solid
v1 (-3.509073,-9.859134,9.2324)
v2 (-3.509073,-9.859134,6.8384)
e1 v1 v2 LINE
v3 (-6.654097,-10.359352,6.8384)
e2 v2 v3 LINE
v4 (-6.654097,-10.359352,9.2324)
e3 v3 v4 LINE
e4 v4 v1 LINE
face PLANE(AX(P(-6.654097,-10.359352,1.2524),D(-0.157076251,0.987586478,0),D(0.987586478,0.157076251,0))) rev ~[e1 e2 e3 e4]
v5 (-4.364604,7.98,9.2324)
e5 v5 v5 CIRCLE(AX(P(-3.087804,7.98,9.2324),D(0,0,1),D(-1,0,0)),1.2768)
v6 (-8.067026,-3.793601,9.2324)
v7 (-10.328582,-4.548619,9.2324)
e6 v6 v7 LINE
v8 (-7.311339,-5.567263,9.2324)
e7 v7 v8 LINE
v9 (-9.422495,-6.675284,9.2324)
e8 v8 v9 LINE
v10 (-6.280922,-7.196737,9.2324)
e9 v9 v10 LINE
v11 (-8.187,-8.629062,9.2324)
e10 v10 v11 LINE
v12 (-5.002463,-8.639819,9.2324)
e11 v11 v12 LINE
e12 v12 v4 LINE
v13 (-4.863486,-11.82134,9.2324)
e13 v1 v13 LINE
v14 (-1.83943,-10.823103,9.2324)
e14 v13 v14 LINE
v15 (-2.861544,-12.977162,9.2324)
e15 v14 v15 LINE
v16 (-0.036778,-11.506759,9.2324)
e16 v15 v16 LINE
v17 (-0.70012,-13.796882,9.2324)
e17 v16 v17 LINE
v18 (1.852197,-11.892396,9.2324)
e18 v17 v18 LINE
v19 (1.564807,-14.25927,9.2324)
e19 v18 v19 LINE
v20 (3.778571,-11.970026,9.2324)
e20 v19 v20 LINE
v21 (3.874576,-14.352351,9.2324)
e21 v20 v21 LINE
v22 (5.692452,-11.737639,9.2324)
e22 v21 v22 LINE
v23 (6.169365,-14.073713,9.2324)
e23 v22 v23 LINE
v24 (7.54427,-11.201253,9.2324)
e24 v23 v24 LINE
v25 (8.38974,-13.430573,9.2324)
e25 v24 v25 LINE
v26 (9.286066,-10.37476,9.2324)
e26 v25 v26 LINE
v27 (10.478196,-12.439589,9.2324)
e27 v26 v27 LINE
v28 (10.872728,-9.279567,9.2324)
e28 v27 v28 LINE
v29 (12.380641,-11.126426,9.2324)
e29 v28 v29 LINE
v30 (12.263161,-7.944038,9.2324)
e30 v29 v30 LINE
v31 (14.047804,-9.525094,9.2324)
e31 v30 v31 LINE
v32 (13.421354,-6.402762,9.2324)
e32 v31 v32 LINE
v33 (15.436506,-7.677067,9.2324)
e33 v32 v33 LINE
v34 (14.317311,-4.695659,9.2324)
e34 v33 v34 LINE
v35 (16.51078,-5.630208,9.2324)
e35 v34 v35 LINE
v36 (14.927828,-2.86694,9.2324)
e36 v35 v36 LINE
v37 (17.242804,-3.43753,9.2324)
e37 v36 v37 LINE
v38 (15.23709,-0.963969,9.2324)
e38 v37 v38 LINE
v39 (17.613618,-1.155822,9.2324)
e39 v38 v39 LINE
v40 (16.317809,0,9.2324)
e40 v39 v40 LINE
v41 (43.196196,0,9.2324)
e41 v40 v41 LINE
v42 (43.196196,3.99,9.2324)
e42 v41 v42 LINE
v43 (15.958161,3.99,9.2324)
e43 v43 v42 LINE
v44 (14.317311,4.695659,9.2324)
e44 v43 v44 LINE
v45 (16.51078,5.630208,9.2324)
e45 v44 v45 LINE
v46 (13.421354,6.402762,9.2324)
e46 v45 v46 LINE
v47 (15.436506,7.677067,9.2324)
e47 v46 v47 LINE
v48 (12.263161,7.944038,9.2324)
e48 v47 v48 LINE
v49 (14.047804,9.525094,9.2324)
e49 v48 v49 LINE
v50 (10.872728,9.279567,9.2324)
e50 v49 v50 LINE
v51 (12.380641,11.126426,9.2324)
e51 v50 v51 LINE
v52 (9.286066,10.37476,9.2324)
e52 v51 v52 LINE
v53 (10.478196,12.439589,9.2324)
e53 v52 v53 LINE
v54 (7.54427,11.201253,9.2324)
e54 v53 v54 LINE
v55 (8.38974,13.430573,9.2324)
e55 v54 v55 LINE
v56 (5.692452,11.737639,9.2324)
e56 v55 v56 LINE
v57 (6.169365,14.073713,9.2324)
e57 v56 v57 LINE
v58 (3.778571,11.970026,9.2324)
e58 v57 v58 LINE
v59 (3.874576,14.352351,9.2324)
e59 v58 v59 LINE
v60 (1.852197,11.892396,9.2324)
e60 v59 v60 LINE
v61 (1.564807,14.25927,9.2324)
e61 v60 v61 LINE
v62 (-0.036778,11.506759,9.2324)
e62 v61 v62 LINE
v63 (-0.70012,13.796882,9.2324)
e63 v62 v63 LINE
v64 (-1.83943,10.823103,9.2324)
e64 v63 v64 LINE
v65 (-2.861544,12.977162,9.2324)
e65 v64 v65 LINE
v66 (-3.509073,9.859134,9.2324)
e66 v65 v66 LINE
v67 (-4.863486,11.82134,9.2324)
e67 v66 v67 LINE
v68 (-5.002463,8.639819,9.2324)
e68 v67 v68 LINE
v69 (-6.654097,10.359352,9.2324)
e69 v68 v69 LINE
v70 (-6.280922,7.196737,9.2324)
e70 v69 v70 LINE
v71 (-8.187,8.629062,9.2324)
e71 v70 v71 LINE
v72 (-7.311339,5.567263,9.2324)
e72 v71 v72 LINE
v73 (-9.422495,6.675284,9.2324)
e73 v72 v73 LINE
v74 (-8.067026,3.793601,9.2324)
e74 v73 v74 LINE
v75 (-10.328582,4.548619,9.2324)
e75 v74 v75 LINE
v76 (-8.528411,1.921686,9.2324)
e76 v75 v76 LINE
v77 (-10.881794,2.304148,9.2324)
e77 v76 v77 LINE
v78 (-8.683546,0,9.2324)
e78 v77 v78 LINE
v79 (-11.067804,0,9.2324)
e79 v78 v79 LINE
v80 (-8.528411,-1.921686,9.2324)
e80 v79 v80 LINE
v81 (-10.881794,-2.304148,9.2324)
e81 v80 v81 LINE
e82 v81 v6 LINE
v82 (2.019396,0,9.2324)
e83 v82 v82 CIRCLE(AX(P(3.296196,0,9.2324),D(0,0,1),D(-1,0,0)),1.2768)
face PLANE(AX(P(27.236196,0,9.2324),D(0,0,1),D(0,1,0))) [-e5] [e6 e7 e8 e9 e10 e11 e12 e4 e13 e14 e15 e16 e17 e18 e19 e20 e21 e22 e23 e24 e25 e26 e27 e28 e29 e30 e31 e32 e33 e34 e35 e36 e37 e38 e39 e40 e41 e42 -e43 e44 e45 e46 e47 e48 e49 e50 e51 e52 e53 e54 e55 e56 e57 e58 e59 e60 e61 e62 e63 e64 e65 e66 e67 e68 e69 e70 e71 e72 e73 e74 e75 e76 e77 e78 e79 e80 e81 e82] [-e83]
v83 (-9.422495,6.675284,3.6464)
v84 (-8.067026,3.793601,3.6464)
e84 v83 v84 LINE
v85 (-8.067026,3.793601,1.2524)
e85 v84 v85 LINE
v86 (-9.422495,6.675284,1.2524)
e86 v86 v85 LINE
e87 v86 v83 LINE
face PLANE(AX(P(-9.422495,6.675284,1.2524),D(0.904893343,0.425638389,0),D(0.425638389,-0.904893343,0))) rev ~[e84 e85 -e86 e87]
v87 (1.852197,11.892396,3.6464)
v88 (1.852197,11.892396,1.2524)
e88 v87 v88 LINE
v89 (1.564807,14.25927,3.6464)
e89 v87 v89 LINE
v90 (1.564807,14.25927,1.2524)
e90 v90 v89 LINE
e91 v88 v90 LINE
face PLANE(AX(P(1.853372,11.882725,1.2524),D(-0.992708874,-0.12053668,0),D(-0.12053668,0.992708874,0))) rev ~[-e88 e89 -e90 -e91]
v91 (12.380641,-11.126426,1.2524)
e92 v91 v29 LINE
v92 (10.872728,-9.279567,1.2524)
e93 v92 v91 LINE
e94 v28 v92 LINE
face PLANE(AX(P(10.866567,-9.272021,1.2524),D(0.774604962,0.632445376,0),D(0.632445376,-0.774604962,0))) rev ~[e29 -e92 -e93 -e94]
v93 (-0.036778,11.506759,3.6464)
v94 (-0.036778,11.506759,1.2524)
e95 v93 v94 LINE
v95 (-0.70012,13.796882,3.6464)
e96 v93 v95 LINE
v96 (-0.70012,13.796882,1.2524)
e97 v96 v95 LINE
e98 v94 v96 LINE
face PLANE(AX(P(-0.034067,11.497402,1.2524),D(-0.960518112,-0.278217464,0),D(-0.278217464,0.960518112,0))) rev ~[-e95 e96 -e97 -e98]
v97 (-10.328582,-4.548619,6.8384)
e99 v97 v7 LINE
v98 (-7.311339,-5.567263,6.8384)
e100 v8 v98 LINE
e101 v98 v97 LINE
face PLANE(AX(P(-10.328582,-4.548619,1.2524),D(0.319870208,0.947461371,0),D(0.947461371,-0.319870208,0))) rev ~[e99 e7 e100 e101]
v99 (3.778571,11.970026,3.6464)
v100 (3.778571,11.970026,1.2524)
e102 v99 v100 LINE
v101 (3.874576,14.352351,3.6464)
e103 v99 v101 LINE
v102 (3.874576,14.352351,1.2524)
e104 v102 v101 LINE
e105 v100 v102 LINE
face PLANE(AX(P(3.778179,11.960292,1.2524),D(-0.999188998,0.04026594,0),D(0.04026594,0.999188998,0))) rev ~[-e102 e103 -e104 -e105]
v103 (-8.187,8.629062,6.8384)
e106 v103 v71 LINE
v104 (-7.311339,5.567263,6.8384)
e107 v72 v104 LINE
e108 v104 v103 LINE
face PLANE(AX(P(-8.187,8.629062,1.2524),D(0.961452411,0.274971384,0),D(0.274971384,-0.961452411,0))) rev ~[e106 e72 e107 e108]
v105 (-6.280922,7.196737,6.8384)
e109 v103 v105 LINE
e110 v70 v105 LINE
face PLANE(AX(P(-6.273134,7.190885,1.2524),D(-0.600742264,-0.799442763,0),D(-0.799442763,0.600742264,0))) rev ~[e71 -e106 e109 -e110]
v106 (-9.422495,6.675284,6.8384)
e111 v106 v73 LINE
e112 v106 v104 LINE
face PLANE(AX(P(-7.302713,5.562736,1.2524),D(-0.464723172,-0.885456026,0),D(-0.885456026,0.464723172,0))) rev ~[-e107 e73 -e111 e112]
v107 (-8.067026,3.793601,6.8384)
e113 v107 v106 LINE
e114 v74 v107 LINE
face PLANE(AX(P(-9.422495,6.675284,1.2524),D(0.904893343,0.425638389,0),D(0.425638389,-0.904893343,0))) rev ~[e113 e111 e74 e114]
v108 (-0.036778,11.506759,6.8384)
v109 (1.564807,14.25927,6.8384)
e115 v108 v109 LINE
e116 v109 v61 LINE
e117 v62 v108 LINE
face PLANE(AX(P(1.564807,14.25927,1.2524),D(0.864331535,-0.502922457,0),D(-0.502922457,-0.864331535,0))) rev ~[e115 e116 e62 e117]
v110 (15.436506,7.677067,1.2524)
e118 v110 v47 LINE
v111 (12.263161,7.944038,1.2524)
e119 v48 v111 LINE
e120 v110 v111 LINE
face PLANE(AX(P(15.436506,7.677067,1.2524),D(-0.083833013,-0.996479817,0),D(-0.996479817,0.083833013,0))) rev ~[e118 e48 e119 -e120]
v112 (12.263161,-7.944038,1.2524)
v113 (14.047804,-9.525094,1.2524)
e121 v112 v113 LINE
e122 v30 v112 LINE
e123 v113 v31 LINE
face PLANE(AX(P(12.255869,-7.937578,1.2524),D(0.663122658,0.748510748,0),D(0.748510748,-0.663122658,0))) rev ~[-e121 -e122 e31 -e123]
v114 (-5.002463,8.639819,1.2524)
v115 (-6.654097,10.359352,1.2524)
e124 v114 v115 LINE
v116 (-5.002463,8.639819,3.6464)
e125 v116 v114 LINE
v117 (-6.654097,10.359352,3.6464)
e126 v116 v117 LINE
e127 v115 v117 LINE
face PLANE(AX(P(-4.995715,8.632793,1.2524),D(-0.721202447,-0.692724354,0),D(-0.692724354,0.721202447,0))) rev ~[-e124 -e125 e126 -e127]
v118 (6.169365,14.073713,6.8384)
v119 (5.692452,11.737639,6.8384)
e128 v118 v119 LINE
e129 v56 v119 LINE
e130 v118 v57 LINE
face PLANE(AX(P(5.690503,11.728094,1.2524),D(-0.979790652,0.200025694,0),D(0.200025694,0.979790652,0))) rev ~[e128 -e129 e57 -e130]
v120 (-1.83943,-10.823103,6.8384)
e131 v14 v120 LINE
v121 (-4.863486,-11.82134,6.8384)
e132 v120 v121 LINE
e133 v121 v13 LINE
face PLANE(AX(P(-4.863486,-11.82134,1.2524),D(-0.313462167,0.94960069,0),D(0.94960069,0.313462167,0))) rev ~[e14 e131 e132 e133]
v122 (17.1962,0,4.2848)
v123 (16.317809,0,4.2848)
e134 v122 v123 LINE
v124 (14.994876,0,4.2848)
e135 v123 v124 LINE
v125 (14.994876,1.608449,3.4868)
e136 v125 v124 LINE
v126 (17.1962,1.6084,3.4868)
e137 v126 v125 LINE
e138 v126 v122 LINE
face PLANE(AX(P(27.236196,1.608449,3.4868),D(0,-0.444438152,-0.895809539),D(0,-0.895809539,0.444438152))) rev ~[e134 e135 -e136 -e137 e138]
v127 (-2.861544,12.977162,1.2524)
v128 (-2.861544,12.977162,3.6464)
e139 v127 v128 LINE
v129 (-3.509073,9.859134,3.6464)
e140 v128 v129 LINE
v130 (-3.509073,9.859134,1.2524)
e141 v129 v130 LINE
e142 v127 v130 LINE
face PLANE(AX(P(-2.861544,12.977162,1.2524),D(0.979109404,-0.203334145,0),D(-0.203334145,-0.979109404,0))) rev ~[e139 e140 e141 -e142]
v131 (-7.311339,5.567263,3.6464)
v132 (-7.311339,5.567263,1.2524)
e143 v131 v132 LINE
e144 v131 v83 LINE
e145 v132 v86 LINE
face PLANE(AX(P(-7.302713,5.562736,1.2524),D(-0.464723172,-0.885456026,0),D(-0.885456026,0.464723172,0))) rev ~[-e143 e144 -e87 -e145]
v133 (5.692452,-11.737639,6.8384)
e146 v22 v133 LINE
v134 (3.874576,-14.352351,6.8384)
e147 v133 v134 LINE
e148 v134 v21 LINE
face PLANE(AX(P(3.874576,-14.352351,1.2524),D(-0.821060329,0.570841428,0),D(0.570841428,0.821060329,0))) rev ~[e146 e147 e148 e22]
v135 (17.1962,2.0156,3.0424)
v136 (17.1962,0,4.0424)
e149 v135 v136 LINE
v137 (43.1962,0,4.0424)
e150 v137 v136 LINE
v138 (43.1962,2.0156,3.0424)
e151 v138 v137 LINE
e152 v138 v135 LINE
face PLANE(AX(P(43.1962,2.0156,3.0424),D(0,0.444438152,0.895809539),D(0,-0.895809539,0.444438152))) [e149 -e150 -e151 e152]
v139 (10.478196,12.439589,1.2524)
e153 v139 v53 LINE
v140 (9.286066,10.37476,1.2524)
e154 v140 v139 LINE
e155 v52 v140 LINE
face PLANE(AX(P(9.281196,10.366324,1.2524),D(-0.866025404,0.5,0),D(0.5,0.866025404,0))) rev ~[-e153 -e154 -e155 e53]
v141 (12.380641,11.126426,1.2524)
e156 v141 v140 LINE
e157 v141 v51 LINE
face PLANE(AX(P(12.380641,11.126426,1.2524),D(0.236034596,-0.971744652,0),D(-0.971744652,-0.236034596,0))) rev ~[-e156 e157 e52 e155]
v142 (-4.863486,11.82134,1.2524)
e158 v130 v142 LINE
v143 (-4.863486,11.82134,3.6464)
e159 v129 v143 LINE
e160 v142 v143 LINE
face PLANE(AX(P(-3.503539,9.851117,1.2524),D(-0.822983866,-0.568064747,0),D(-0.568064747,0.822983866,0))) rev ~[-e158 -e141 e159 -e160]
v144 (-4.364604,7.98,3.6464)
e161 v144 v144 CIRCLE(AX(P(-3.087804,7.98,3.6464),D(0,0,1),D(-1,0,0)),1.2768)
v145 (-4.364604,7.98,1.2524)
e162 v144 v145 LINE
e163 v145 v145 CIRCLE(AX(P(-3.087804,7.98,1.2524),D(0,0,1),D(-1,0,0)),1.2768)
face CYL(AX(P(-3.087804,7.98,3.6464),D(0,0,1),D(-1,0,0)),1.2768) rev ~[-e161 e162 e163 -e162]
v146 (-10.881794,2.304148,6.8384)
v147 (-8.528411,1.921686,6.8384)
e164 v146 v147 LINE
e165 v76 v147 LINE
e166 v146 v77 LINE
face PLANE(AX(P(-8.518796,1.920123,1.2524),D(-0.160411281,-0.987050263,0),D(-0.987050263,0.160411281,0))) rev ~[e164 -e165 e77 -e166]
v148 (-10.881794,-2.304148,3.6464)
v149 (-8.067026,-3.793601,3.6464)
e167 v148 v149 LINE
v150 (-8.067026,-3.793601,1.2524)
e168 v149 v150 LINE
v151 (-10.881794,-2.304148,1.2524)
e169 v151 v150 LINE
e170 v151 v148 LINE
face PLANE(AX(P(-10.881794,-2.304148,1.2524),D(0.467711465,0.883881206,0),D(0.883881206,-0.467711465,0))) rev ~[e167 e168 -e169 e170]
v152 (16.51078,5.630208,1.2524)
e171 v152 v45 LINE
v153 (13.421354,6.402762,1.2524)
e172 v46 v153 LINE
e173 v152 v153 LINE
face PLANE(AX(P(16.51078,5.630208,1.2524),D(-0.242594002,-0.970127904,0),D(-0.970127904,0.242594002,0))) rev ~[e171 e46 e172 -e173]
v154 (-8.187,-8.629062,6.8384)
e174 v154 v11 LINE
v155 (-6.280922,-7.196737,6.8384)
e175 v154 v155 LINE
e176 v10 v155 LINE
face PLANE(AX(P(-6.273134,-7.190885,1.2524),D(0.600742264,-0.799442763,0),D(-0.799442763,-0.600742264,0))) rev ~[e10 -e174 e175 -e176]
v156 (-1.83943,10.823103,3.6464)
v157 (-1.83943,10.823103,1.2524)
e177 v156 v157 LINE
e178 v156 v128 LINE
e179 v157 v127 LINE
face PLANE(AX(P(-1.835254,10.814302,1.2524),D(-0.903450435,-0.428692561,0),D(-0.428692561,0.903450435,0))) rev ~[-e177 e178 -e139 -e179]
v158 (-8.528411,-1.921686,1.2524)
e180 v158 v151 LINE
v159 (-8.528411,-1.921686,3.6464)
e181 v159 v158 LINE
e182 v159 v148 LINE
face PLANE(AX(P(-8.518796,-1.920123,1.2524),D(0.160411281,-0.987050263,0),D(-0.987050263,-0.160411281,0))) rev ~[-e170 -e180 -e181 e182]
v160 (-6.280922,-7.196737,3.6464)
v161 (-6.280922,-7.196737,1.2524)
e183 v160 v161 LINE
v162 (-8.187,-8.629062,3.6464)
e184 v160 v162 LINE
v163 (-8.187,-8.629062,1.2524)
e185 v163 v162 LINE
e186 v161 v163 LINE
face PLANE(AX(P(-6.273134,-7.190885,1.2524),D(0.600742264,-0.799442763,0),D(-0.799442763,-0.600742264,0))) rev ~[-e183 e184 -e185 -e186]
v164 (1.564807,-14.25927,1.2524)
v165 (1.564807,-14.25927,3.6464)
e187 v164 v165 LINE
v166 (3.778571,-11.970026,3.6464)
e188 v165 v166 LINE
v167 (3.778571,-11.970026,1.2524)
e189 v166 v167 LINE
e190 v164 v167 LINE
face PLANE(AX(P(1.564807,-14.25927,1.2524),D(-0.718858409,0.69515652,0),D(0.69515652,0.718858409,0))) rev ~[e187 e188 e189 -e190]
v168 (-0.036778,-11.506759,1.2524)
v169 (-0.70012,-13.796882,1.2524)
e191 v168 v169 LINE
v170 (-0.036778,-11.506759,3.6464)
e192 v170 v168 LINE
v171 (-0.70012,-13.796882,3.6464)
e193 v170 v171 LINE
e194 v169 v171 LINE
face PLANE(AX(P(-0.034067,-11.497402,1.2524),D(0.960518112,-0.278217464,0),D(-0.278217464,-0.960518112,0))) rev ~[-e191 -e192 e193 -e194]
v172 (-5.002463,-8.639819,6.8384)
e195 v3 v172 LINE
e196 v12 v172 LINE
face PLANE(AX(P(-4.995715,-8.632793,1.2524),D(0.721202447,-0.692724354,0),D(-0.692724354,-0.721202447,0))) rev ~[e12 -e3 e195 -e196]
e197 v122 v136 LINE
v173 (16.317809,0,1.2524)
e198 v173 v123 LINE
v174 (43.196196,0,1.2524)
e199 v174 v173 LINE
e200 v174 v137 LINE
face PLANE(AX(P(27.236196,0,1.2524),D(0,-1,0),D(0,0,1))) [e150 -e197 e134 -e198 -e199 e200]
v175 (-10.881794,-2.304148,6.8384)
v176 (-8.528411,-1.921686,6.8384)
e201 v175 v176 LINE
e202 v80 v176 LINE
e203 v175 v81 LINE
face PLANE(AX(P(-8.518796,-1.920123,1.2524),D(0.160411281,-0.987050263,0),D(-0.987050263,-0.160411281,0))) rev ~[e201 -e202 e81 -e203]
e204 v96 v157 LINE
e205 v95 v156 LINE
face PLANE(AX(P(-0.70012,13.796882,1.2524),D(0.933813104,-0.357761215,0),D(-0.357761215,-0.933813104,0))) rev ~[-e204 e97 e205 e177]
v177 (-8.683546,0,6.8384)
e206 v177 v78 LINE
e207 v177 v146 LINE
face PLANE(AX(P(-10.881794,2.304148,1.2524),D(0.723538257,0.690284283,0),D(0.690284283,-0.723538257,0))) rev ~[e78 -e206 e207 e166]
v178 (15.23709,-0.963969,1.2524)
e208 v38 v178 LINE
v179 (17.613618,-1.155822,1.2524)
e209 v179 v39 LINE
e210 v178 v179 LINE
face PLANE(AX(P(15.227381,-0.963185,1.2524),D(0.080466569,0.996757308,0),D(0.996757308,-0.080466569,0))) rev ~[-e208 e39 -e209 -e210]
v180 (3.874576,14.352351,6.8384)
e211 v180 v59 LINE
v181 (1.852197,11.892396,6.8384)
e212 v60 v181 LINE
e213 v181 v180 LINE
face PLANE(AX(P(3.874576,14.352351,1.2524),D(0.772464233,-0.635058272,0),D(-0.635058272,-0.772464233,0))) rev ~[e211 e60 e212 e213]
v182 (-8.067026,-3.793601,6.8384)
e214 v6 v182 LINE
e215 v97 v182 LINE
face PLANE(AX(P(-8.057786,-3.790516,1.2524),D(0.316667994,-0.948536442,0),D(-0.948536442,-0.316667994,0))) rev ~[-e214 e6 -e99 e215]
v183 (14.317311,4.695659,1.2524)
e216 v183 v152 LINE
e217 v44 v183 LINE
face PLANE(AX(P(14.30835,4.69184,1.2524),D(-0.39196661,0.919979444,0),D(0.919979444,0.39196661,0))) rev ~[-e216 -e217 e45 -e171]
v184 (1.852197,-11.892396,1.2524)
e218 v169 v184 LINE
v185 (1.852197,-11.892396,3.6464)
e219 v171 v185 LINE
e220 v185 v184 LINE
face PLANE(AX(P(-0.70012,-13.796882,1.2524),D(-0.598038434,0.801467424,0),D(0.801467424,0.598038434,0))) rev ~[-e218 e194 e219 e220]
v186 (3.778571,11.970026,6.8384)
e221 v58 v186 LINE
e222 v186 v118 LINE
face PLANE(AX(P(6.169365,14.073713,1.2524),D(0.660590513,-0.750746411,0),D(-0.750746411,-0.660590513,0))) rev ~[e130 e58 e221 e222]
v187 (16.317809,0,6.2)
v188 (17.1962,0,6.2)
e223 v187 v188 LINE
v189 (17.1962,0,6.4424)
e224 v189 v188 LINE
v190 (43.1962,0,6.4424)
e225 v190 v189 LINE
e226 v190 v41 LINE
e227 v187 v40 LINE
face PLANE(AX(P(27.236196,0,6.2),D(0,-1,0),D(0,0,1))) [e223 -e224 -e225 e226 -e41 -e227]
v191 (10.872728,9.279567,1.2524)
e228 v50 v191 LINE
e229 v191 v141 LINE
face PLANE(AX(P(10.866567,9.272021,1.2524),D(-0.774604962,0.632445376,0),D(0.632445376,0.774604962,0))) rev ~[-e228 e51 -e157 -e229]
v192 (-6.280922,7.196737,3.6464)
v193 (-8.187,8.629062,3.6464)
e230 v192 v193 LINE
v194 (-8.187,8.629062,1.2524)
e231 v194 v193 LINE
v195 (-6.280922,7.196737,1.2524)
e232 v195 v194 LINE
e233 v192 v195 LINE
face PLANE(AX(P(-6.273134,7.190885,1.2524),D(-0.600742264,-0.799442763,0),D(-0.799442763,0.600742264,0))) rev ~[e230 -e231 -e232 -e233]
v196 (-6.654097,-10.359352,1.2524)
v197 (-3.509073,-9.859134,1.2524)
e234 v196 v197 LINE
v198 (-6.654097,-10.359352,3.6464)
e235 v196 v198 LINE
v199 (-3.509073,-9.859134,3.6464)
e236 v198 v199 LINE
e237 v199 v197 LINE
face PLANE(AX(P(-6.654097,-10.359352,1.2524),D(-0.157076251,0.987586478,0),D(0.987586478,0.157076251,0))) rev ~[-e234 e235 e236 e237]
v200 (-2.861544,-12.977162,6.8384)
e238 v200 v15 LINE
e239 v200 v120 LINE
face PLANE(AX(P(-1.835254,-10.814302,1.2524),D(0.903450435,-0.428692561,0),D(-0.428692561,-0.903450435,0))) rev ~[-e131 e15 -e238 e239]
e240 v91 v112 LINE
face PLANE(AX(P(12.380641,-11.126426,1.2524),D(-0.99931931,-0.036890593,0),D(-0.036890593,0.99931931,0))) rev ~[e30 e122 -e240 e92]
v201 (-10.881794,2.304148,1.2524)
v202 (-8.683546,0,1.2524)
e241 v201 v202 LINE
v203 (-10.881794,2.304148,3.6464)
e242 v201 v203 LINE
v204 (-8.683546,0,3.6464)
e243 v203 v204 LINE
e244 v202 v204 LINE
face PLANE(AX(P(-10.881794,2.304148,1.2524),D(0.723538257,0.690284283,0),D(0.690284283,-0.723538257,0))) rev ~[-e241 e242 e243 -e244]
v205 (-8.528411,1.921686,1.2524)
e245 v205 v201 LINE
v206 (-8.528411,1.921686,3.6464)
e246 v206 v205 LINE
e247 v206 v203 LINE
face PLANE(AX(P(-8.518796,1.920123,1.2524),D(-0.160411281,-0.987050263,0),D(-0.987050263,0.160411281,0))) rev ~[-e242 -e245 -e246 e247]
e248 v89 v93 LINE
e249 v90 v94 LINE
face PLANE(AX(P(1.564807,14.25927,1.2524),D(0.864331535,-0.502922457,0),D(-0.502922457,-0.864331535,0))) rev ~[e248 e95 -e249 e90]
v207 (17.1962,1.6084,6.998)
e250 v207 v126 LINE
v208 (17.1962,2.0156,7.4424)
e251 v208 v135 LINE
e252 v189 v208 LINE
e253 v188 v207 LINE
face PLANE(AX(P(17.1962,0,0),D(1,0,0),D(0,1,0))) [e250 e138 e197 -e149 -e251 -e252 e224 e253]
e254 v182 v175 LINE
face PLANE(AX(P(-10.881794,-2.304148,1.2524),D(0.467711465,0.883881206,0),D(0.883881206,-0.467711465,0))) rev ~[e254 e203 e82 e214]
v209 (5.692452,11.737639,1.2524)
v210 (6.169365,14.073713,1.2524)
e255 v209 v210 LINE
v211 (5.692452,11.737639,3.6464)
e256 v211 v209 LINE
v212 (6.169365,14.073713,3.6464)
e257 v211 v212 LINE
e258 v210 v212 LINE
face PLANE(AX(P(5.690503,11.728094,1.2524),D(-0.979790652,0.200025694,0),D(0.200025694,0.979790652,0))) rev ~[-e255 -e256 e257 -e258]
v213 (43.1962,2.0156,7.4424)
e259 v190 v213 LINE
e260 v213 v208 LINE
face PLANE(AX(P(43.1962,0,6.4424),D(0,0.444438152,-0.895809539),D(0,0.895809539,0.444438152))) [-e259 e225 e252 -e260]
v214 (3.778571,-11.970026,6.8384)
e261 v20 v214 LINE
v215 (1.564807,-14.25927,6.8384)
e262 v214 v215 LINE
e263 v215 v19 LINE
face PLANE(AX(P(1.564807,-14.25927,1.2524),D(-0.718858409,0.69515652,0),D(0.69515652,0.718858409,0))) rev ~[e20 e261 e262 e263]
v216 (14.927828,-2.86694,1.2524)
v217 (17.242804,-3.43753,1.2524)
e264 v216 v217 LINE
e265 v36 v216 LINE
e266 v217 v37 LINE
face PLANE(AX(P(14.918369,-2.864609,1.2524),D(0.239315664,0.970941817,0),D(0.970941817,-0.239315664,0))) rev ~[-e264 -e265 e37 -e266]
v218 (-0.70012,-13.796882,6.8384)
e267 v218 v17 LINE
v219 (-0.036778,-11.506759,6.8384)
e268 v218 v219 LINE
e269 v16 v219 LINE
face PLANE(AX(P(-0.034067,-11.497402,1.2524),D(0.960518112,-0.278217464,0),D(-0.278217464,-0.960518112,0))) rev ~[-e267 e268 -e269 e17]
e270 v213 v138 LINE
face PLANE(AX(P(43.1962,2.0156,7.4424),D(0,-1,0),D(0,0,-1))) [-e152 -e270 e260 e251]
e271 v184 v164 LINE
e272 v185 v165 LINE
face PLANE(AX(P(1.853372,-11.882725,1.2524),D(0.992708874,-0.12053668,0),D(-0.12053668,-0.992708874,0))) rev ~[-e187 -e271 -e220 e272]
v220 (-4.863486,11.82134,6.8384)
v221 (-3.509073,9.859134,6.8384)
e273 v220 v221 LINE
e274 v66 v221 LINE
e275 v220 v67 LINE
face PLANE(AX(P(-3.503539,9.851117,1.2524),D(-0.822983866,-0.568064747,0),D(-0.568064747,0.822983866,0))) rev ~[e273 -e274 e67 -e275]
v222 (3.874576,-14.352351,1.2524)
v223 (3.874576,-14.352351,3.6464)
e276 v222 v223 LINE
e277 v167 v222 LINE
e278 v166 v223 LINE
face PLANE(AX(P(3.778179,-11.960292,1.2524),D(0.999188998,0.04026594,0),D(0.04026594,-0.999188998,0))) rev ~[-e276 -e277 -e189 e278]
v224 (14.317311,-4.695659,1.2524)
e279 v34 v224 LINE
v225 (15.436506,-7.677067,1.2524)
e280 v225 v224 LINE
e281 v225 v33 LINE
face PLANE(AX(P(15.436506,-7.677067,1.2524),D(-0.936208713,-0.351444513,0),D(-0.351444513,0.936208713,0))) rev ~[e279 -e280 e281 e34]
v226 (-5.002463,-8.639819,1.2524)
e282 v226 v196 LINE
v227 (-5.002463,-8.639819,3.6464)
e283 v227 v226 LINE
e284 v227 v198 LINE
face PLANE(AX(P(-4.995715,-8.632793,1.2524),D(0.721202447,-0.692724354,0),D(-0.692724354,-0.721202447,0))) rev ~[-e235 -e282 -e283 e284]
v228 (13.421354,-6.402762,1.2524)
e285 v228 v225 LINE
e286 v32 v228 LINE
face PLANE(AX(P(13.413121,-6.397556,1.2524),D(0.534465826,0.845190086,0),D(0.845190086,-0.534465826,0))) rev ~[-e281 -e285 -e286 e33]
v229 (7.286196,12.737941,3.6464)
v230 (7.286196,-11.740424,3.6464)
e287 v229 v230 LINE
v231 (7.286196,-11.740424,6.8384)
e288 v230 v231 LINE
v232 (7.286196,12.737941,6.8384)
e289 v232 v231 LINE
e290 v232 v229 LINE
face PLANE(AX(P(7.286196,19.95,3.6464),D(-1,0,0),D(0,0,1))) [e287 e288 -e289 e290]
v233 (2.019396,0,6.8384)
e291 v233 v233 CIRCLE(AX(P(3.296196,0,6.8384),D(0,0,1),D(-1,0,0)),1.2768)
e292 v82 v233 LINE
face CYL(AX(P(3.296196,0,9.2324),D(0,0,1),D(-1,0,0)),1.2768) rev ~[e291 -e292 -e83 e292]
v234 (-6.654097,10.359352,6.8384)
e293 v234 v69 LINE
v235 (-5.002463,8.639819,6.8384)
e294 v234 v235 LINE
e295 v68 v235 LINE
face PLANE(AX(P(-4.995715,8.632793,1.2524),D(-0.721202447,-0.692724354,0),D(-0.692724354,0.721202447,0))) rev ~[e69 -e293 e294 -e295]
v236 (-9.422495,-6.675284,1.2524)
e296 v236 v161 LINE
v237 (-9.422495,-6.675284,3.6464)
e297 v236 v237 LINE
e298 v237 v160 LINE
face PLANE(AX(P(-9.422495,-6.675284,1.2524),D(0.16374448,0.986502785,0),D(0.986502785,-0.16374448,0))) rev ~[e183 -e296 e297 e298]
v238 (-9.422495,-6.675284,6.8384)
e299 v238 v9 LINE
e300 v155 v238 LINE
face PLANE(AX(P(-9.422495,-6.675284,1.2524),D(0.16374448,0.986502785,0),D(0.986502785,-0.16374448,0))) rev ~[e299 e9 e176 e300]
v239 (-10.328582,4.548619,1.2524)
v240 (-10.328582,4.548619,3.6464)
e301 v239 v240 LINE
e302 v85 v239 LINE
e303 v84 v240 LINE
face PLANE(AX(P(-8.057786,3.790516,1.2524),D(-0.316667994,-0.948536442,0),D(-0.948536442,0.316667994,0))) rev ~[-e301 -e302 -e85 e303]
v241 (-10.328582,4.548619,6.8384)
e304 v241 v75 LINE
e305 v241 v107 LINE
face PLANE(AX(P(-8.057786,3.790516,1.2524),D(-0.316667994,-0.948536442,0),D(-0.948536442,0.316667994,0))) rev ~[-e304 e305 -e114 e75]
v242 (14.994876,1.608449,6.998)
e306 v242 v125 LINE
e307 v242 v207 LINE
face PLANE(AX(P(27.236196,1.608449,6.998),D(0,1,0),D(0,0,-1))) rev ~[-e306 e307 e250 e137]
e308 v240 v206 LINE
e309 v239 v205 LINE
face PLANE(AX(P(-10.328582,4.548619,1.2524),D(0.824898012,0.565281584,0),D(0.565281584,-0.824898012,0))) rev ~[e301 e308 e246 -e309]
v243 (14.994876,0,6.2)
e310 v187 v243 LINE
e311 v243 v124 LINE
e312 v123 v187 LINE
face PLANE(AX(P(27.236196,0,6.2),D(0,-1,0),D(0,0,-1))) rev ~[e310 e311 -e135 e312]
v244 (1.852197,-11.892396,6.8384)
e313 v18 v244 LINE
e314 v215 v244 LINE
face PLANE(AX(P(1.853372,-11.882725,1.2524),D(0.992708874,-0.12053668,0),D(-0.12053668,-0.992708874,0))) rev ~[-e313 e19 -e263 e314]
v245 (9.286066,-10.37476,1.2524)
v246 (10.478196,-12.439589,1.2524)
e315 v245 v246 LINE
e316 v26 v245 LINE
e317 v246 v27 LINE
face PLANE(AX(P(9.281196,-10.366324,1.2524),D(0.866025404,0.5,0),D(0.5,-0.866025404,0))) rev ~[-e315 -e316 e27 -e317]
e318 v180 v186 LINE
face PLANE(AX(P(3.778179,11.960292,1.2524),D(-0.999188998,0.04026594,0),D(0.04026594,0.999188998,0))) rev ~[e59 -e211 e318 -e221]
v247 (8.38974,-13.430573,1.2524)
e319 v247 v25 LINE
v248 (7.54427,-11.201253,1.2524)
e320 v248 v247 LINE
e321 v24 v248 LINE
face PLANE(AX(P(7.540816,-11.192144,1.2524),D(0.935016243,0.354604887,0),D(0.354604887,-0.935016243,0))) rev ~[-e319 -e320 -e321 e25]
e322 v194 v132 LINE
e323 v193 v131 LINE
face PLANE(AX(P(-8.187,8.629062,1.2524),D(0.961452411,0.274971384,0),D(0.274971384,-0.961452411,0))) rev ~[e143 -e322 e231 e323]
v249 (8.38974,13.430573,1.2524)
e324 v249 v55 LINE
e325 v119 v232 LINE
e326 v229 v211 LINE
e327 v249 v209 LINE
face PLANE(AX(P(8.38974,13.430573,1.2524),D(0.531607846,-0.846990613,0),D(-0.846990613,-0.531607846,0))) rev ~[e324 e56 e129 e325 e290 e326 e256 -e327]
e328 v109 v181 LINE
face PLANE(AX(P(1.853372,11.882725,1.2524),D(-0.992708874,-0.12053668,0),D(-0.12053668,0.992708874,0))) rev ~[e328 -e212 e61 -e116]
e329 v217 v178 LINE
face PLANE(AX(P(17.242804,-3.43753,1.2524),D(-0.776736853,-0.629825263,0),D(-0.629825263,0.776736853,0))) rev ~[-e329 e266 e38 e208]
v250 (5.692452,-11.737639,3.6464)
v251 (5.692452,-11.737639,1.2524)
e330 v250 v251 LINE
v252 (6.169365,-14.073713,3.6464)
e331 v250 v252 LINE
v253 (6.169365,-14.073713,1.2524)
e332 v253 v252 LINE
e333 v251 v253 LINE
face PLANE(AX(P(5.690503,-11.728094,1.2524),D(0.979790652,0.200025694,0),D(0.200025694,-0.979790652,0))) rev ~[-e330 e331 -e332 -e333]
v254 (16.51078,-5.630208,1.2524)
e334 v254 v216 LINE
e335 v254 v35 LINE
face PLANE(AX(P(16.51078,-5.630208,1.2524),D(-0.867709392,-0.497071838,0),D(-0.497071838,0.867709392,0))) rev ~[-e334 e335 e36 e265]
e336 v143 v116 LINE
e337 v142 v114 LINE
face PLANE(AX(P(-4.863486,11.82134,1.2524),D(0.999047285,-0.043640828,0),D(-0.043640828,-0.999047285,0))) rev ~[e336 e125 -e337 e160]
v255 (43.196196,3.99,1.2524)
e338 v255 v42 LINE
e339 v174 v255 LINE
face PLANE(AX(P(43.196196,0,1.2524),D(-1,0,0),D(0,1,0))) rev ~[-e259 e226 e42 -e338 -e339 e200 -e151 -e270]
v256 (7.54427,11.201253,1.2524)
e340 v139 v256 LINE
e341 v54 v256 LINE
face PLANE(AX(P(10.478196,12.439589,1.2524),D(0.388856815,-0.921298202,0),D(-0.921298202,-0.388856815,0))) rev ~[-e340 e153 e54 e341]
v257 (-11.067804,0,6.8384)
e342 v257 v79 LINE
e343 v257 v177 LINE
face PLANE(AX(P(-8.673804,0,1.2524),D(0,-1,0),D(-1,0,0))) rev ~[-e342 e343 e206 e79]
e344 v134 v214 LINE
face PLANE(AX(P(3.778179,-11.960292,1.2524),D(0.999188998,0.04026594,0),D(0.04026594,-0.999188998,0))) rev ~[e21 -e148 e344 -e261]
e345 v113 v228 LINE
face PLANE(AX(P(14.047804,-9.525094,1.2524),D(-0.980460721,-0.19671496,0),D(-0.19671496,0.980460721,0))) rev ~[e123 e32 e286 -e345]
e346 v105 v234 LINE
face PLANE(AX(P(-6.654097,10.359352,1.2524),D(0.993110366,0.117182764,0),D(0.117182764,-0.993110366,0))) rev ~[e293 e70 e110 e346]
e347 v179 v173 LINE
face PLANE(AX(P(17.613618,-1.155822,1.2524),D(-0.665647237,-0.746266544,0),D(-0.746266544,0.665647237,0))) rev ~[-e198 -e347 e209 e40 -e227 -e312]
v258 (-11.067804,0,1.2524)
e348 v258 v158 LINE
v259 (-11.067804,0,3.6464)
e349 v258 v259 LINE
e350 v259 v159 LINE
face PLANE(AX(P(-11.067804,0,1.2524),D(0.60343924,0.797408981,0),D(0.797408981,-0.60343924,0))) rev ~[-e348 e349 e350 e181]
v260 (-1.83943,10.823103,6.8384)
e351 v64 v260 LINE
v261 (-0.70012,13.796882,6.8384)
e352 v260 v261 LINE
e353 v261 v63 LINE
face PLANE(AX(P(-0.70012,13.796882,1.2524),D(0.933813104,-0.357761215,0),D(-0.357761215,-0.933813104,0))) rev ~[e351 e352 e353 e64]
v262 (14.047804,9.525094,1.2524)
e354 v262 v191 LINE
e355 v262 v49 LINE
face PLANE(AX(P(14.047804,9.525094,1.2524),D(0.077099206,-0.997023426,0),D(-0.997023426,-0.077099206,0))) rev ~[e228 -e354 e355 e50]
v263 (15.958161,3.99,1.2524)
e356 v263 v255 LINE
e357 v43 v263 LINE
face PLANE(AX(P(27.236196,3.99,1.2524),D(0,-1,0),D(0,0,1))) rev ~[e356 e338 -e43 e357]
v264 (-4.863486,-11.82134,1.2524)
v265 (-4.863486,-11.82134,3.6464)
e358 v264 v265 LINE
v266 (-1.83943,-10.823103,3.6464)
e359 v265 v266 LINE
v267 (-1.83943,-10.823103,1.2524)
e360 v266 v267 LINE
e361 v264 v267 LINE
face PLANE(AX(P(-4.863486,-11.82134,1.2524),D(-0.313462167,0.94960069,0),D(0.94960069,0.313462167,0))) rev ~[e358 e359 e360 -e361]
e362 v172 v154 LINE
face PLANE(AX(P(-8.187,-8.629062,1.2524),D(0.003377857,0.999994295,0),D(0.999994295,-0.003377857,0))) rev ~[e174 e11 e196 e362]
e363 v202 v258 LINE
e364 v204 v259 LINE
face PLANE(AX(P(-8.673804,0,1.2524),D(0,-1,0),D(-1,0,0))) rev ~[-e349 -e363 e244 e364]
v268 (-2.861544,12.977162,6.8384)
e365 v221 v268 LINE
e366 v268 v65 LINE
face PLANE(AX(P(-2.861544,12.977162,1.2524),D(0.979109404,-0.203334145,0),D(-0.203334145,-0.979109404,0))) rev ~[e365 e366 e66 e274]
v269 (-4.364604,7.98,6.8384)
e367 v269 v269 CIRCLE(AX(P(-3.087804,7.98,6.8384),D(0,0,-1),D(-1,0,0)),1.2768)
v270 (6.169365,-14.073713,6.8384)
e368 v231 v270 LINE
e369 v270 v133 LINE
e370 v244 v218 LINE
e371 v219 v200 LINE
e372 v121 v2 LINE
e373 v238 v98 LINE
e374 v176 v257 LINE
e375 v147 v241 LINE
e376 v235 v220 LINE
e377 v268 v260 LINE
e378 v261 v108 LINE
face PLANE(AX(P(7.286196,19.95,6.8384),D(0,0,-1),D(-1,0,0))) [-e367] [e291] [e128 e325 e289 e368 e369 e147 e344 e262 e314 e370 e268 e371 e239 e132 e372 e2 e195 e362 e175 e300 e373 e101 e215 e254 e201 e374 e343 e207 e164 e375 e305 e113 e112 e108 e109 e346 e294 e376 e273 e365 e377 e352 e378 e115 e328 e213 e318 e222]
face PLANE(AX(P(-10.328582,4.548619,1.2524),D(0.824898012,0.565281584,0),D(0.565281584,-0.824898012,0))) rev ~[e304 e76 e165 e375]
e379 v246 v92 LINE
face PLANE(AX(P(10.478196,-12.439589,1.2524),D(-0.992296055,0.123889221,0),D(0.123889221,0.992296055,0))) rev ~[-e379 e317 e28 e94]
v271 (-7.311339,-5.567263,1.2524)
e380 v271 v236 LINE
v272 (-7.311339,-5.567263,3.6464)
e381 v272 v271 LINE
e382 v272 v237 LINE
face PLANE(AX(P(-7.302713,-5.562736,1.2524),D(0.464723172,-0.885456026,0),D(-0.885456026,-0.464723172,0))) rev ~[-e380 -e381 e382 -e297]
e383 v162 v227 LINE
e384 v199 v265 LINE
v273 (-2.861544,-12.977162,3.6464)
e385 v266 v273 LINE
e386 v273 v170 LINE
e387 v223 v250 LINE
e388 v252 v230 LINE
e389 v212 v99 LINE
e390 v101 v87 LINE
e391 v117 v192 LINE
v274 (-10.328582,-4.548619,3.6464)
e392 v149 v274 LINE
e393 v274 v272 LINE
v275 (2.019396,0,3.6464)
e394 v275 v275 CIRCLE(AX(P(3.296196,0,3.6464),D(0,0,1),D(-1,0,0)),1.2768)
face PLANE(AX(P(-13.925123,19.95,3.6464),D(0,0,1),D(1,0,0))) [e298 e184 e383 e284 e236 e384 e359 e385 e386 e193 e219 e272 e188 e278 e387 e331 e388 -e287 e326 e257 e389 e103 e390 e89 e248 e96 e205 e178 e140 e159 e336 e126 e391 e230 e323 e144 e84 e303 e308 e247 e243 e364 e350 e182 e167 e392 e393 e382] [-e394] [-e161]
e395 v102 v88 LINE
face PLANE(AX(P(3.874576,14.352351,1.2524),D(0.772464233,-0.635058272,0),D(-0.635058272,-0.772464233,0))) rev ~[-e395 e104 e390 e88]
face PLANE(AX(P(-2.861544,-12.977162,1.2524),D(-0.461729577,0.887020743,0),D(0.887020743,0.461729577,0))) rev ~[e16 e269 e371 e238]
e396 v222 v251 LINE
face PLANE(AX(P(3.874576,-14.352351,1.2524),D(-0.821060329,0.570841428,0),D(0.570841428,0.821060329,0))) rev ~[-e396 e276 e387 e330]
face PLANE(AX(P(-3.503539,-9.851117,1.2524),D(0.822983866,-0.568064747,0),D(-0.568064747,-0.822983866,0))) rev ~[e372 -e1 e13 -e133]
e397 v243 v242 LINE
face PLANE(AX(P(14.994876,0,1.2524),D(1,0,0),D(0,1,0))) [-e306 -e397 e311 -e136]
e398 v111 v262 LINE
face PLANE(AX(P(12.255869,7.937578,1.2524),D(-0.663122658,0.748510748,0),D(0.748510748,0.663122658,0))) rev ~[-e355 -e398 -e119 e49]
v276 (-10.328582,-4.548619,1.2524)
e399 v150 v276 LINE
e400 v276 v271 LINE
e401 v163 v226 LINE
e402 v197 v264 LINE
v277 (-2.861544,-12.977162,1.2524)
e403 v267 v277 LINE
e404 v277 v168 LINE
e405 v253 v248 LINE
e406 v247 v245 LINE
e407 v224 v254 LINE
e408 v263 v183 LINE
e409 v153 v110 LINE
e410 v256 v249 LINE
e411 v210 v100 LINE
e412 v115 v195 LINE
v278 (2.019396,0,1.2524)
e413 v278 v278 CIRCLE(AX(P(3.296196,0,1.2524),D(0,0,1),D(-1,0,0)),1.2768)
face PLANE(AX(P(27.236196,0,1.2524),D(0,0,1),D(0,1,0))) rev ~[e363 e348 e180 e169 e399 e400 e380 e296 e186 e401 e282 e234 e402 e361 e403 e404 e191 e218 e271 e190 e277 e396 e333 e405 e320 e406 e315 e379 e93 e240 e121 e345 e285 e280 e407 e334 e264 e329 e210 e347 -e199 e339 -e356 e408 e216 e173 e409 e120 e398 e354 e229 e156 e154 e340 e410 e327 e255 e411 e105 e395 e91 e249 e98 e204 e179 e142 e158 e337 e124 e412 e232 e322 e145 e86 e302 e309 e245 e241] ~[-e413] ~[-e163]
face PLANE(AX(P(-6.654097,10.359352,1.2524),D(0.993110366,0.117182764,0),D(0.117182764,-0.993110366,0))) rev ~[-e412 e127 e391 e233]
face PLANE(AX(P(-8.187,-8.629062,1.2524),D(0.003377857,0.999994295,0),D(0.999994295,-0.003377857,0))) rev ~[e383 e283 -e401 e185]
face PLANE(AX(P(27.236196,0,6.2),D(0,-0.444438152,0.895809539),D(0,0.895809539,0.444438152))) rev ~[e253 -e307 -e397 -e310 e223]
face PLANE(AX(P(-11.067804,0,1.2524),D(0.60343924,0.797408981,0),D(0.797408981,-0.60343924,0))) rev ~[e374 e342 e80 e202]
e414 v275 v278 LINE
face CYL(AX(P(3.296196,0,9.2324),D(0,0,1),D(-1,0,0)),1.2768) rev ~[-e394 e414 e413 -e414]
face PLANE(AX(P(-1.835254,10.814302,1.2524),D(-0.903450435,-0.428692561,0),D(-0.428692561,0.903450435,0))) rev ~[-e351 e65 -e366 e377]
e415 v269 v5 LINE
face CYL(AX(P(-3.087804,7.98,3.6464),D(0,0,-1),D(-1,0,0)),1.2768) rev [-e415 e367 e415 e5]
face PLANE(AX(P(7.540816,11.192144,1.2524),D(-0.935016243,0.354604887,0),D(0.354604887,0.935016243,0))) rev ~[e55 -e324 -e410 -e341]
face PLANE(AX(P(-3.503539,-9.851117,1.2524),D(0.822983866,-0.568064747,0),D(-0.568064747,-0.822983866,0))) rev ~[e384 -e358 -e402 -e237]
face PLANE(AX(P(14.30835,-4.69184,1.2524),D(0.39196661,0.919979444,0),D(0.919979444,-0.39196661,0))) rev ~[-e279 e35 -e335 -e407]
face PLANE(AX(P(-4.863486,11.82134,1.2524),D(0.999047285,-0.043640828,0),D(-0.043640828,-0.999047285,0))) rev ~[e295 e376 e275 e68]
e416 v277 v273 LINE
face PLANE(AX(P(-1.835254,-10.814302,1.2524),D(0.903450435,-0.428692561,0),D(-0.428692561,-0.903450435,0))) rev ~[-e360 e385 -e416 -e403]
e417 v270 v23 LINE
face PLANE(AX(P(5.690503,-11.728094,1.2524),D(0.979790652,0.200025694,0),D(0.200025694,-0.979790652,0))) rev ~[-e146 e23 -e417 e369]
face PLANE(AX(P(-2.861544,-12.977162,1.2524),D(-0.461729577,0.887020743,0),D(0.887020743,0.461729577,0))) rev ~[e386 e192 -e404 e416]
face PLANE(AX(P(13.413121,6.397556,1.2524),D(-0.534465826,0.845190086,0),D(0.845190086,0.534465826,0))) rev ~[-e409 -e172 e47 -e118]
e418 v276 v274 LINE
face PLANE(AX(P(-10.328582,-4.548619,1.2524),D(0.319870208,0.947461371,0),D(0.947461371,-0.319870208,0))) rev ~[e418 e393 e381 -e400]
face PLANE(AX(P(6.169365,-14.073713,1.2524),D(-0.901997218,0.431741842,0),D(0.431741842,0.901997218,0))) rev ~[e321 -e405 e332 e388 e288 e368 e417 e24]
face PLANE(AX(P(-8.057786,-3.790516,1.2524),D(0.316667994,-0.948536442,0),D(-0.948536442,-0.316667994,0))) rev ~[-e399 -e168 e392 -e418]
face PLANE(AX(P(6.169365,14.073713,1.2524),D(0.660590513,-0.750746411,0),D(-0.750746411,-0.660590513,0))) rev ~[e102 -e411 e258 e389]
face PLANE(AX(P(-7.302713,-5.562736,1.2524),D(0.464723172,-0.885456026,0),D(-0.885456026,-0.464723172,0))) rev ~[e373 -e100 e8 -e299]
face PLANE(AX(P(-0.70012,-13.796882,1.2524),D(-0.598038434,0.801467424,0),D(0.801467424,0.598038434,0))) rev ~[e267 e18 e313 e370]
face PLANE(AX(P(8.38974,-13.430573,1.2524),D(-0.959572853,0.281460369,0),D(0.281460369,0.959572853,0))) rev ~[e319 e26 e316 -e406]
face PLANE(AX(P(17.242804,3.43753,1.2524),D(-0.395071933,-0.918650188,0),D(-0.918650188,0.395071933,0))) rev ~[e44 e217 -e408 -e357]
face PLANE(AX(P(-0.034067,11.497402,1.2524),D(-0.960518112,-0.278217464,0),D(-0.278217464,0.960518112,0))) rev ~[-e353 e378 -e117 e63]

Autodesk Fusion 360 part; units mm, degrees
sketch "Esboço1" plane through (0, 0, 0) normal (0, 0, 1) x (1, 0, 0)
  circle A0 centre (0, 0) radius 15
  line L0 (5, 0) -> (30, 0)
  line L1 (30, 0) -> (30, 5)
  line L2 (30, 5) -> (5, 5)
  line L3 (5, 5) -> (5, 0)
  line L4 (-15, 0) -> (-18, 0)
  line L5 (-18, 0) -> (-14.8037, -2.4188)
  dimension "d1" = 30
  dimension "d41" = 3
extrude "Extrusão1" add sketch "Esboço1" along normal blind 10 makes body 1
extrude "Extrusão2" add sketch "Esboço1" along normal blind 10 contours A0 L4 L5 bodies 1
pattern_circular "Padrão circular1" count 39 over 360 about axis through (0, 0, 10) along (0, 0, 1) of "Extrusão2"
sketch "Esboço2" plane through (30, 0, 0) normal (1, 0, 0) x (0, 1, 0)
  line L0 (0, 0) -> (5, 0)
  line L1 (5, 0) -> (5, 10)
  line L2 (5, 10) -> (0, 10)
  line L3 (0, 10) -> (0, 0)
  line L4 (0, 6.2) -> (2.0156, 7.2)
  line L5 (2.0156, 7.2) -> (2.0156, 2.8)
  line L6 (2.0156, 2.8) -> (0, 3.8)
  line L7 (0, 6.2) -> (0, 3.8)
  dimension "d8" = 4.4
  dimension "d9" = 2.25
  dimension "d10" = 2.25
  dimension "d11" = 2.4
  dimension "d12" = 3.8
extrude "Extrusão3" cut sketch "Esboço2" against normal blind 19 contours L3 L4 L5 L6 L7 bodies 1
sketch "Esboço3" plane through (0, 0, 10) normal (0, 0, 1) x (-1, 0, 0)
  line L0 (18, 0) -> (14.8178, 2.4081)
  line L1 (15.0122, 0) -> (18, 0)
  line L2 (17.7669, 2.8874) -> (14.2396, 4.7539)
  line L3 (14.8178, 2.4081) -> (17.7669, 2.8874)
  line L4 (17.0737, 5.7) -> (13.2927, 6.9765)
  line L5 (14.2396, 4.7539) -> (17.0737, 5.7)
  line L6 (15.9382, 8.365) -> (12.0014, 9.0185)
  line L7 (13.2927, 6.9765) -> (15.9382, 8.365)
  line L8 (14.39, 10.8134) -> (10.3993, 10.8268)
  line L9 (12.0014, 9.0185) -> (14.39, 10.8134)
  line L10 (12.469, 12.9816) -> (8.5279, 12.3548)
  line L11 (10.3993, 10.8268) -> (12.469, 12.9816)
  line L12 (10.2252, 14.8137) -> (6.4356, 13.5628)
  line L13 (8.5279, 12.3548) -> (10.2252, 14.8137)
  line L14 (7.7165, 16.2621) -> (4.1767, 14.4195)
  line L15 (6.4356, 13.5628) -> (7.7165, 16.2621)
  line L16 (5.0079, 17.2893) -> (1.8095, 14.9028)
  line L17 (4.1767, 14.4195) -> (5.0079, 17.2893)
  line L18 (2.1697, 17.8688) -> (-0.6045, 15)
  line L19 (1.8095, 14.9028) -> (2.1697, 17.8688)
  line L20 (-0.7248, 17.9854) -> (-3.0028, 14.7088)
  line L21 (-0.6045, 15) -> (-0.7248, 17.9854)
  line L22 (-3.6005, 17.6362) -> (-5.3234, 14.0367)
  line L23 (-3.0028, 14.7088) -> (-3.6005, 17.6362)
  line L24 (-5.3234, 14.0367) -> (-6.3829, 16.8303)
  line L25 (-9, 15.5885) -> (-9.4944, 11.6285)
  line L26 (-11.384, 13.9429) -> (-11.2368, 9.9549)
  line L27 (-9.4944, 11.6285) -> (-11.384, 13.9429)
  line L28 (-13.4732, 11.9362) -> (-12.6882, 8.0235)
  line L29 (-11.2368, 9.9549) -> (-13.4732, 11.9362)
  line L30 (-15.2134, 9.6204) -> (-13.8109, 5.8843)
  line L31 (-12.6882, 8.0235) -> (-15.2134, 9.6204)
  line L32 (-16.5596, 7.0554) -> (-14.576, 3.5927)
  line L33 (-13.8109, 5.8843) -> (-16.5596, 7.0554)
  line L34 (-14.576, 3.5927) -> (-17.477, 4.3077)
  line L35 (-15.8671, -5) -> (-13.8109, -5.8843)
  line L36 (-16.5596, -7.0554) -> (-12.6882, -8.0235)
  line L37 (-13.8109, -5.8843) -> (-16.5596, -7.0554)
  line L38 (-15.2134, -9.6204) -> (-11.2368, -9.9549)
  line L39 (-12.6882, -8.0235) -> (-15.2134, -9.6204)
  line L40 (-30, 0) -> (-30, -5)
  line L41 (-30, -5) -> (-15.8671, -5)
  circle A0 centre (0, 0) radius 1.6
  line L42 (-11.2368, -9.9549) -> (-13.4732, -11.9362)
  line L43 (-13.4732, -11.9362) -> (-9.4944, -11.6285)
  line L44 (-9.4944, -11.6285) -> (-11.384, -13.9429)
  line L45 (-11.384, -13.9429) -> (-7.5061, -13.001)
  line L46 (-7.5061, -13.001) -> (-9, -15.5885)
  line L47 (-9, -15.5885) -> (-5.3234, -14.0367)
  line L48 (-5.3234, -14.0367) -> (-6.3829, -16.8303)
  line L49 (-6.3829, -16.8303) -> (-3.0028, -14.7088)
  line L50 (-3.0028, -14.7088) -> (-3.6005, -17.6362)
  line L51 (-3.6005, -17.6362) -> (-0.6045, -15)
  line L52 (-0.6045, -15) -> (-0.7248, -17.9854)
  line L53 (-0.7248, -17.9854) -> (1.8095, -14.9028)
  line L54 (1.8095, -14.9028) -> (2.1697, -17.8688)
  line L55 (2.1697, -17.8688) -> (4.1767, -14.4195)
  line L56 (4.1767, -14.4195) -> (5.0079, -17.2893)
  line L57 (5.0079, -17.2893) -> (6.4356, -13.5628)
  line L58 (6.4356, -13.5628) -> (7.7165, -16.2621)
  line L59 (7.7165, -16.2621) -> (8.5279, -12.3548)
  line L60 (8.5279, -12.3548) -> (10.2252, -14.8137)
  line L61 (10.2252, -14.8137) -> (10.3993, -10.8268)
  line L62 (10.3993, -10.8268) -> (12.469, -12.9816)
  line L63 (12.469, -12.9816) -> (12.0014, -9.0185)
  line L64 (12.0014, -9.0185) -> (14.39, -10.8134)
  line L65 (14.39, -10.8134) -> (13.2927, -6.9765)
  line L66 (-6.3829, 16.8303) -> (-7.5061, 13.001)
  line L67 (-7.5061, 13.001) -> (-9, 15.5885)
  line L68 (-17.477, 4.3077) -> (-14.9635, 1.208)
  line L69 (-14.9635, 1.208) -> (-17.9416, 1.4484)
  line L70 (-17.9416, 1.4484) -> (-16.3178, 0)
  line L71 (-16.3178, 0) -> (-30, 0)
  line L72 (13.2927, -6.9765) -> (15.9382, -8.365)
  line L73 (15.9382, -8.365) -> (14.2396, -4.7539)
  line L74 (14.2396, -4.7539) -> (17.0737, -5.7)
  line L75 (17.0737, -5.7) -> (14.8178, -2.4081)
  line L76 (14.8178, -2.4081) -> (17.7669, -2.8874)
  line L77 (17.7669, -2.8874) -> (15.0122, 0)
  dimension "d15" = 3.2
extrude "Extrusão4" cut sketch "Esboço3" against normal blind 10 contours A0 bodies 1
ref_plane "Plano de trabalho1" through (0, 0, 12.125) normal (0, -1, 0) x (0, 0, 1)
ref_plane "Plano de trabalho2" through (0, 25, 12.125) normal (0, -1, 0) x (0, 0, 1)
sketch "Esboço4" plane through (0, 25, 0) normal (0, -1, 0) x (0, 0, 1)
  line L0 (3, -5) -> (7, -5)
  line L1 (7, -5) -> (7, 21.5806)
  line L2 (7, 21.5806) -> (3, 21.5806)
  line L3 (3, 21.5806) -> (3, -5)
  dimension "d20" = 4
  dimension "d21" = 3
extrude "Extrusão5" cut sketch "Esboço4" along normal blind 45 bodies 1
sketch "Esboço5" plane through (0, 0, 3) normal (0, 0, 1) x (-1, 0, 0)
  line L0 (10.2252, 14.8137) -> (6.4356, 13.5628)
  line L1 (-5, 14.7123) -> (-5, -15.9623)
  circle A0 centre (8, -10) radius 1.6
  line L2 (6.4356, 13.5628) -> (7.7165, 16.2621)
  circle A1 centre (0, 0) radius 1.6
  line L3 (15.0122, 0) -> (18, 0)
  line L4 (18, 0) -> (14.8178, 2.4081)
  line L5 (14.8178, 2.4081) -> (17.7669, 2.8874)
  line L6 (17.7669, 2.8874) -> (14.2396, 4.7539)
  line L7 (14.2396, 4.7539) -> (17.0737, 5.7)
  line L8 (17.0737, 5.7) -> (13.2927, 6.9765)
  line L9 (13.2927, 6.9765) -> (15.9382, 8.365)
  line L10 (15.9382, 8.365) -> (12.0014, 9.0185)
  line L11 (12.0014, 9.0185) -> (14.39, 10.8134)
  line L12 (14.39, 10.8134) -> (10.3993, 10.8268)
  line L13 (10.3993, 10.8268) -> (12.469, 12.9816)
  line L14 (12.469, 12.9816) -> (8.5279, 12.3548)
  line L15 (8.5279, 12.3548) -> (10.2252, 14.8137)
  line L16 (7.7165, 16.2621) -> (4.1767, 14.4195)
  line L17 (-5, -15.9623) -> (-3.0028, -14.7088)
  line L18 (-3.0028, -14.7088) -> (-3.6005, -17.6362)
  line L19 (-3.6005, -17.6362) -> (-0.6045, -15)
  line L20 (-0.6045, -15) -> (-0.7248, -17.9854)
  line L21 (-0.7248, -17.9854) -> (1.8095, -14.9028)
  line L22 (1.8095, -14.9028) -> (2.1697, -17.8688)
  line L23 (2.1697, -17.8688) -> (4.1767, -14.4195)
  line L24 (4.1767, -14.4195) -> (5.0079, -17.2893)
  line L25 (5.0079, -17.2893) -> (6.4356, -13.5628)
  line L26 (6.4356, -13.5628) -> (7.7165, -16.2621)
  line L27 (7.7165, -16.2621) -> (8.5279, -12.3548)
  line L28 (8.5279, -12.3548) -> (10.2252, -14.8137)
  line L29 (10.2252, -14.8137) -> (10.3993, -10.8268)
  line L30 (10.3993, -10.8268) -> (12.469, -12.9816)
  line L31 (12.469, -12.9816) -> (12.0014, -9.0185)
  line L32 (12.0014, -9.0185) -> (14.39, -10.8134)
  line L33 (14.39, -10.8134) -> (13.2927, -6.9765)
  line L34 (4.1767, 14.4195) -> (5.0079, 17.2893)
  line L35 (5.0079, 17.2893) -> (1.8095, 14.9028)
  line L36 (1.8095, 14.9028) -> (2.1697, 17.8688)
  line L37 (2.1697, 17.8688) -> (-0.6045, 15)
  line L38 (-0.6045, 15) -> (-0.7248, 17.9854)
  line L39 (-0.7248, 17.9854) -> (-3.0028, 14.7088)
  line L40 (13.2927, -6.9765) -> (15.9382, -8.365)
  line L41 (15.9382, -8.365) -> (14.2396, -4.7539)
  line L42 (14.2396, -4.7539) -> (17.0737, -5.7)
  line L43 (17.0737, -5.7) -> (14.8178, -2.4081)
  line L44 (14.8178, -2.4081) -> (17.7669, -2.8874)
  line L45 (17.7669, -2.8874) -> (15.0122, 0)
  line L46 (-3.0028, 14.7088) -> (-3.6005, 17.6362)
  line L47 (-3.6005, 17.6362) -> (-5, 14.7123)
  point P0 (0, 0)
  point P1 (0, 0)
  point P2 (0, 0)
  point P3 (0, 0)
  point P4 (0, 0)
  point P5 (0, 0)
  point P6 (0, 0)
  point P7 (0, 0)
  point P8 (0, 0)
  point P9 (0, 0)
  point P10 (0, 0)
  point P11 (0, 0)
  point P12 (0, 0)
  point P13 (0, 0)
  point P14 (0, 0)
  point P15 (0, 0)
  point P16 (0, 0)
  point P17 (0, 0)
  point P18 (0, 0)
  point P19 (0, 0)
  point P20 (0, 0)
  point P21 (0, 0)
  point P22 (0, 0)
  point P23 (0, 0)
  point P24 (0, 0)
  point P25 (0, 0)
  point P26 (0, 0)
  point P27 (0, 0)
  point P28 (0, 0)
  point P29 (0, 0)
  point P30 (0, 0)
  point P31 (0, 0)
  point P32 (0, 0)
  point P33 (0, 0)
  point P34 (0, 0)
  point P35 (0, 0)
  point P36 (0, 0)
  point P37 (0, 0)
  point P38 (0, 0)
  point P39 (0, 0)
  point P40 (0, 0)
  point P41 (0, 0)
  point P42 (0, 0)
  point P43 (0, 0)
  point P44 (0, 0)
  point P45 (0, 0)
  point P46 (0, 0)
  point P47 (0, 0)
  point P48 (0, 0)
  point P49 (0, 0)
  point P50 (0, 0)
  point P51 (0, 0)
  point P52 (0, 0)
  point P53 (0, 0)
  point P54 (0, 0)
  point P55 (0, 0)
  point P56 (0, 0)
  point P57 (0, 0)
  point P58 (0, 0)
  point P59 (0, 0)
  point P60 (0, 0)
  point P61 (0, 0)
  dimension "d24" = 3.2
extrude "Extrusão6" cut sketch "Esboço5" against normal blind 6 contours A0 bodies 1
extrude "Extrusão7" cut sketch "Esboço5" along normal blind 7 contours A0 bodies 1
copy_body "Corpo -> Componente1" bodies 1 removing the originals makes body 2 in component "Component"
sketch "Esboço6" plane through (30, 0, 0) normal (1, 0, 0) x (0, 1, 0)
  line L0 (0, 6.2) -> (2.0156, 7.2)
  line L1 (2.0156, 7.2) -> (2.0156, 2.8)
  line L2 (2.0156, 2.8) -> (0, 3.8)
  line L3 (0, 3.8) -> (0, 0)
  line L4 (0, 0) -> (5, 0)
  line L5 (5, 0) -> (5, 10)
  line L6 (5, 10) -> (0, 10)
  line L7 (0.2342, 6.2703) -> (2.2498, 7.2703)
  line L8 (2.2498, 7.2703) -> (2.2498, 2.8703)
  line L9 (2.2498, 2.8703) -> (0, 2.8407)
  line L10 (0.2342, 6.2703) -> (0, 2.8407)
  line L11 (0, 10) -> (0, 6.2)
  dimension "d31" = 2.25
  dimension "d32" = 4.4
  dimension "d33" = 2.25
  dimension "d34" = 0.2445
extrude "Extrusão2'" add 1 faces at (11, 1.3437, 5.4) along direction (1, 0, 0) blind 3.66 on bodies 2 bodies 2 in component "Component"
extrude "Extrusão3'" add 1 faces at (30, 4.0052, 4.2667) along direction (1, 0, 0) blind 20 on bodies 2 bodies 2 in component "Component"
scale "Escala3" factor 0.7 about (16.3178, 0, 6.2) bodies 2 in component "Component"
scale "Escala4" factor 1.14 about (16.3178, 0, 6.2) bodies 2 in component "Component"
sketch "Esboço7" plane through (43.1962, 0, 0) normal (1, 0, 0) x (0, 1, 0)
  line L0 (0, 6.2) -> (1.6084, 6.998)
  line L1 (1.6084, 6.998) -> (1.6084, 3.4868)
  line L2 (1.6084, 3.4868) -> (0, 4.2848)
  line L3 (0, 4.2848) -> (0, 1.2524)
  line L4 (0, 1.2524) -> (3.99, 1.2524)
  line L5 (3.99, 1.2524) -> (3.99, 9.2324)
  line L6 (3.99, 9.2324) -> (0, 9.2324)
  line L7 (0, 9.2324) -> (0, 6.2)
  line L8 (0, 6.4424) -> (2.0156, 7.4424)
  line L9 (2.0156, 7.4424) -> (2.0156, 3.0424)
  line L10 (2.0156, 3.0424) -> (0, 4.0424)
  line L11 (0, 6.4424) -> (0, 4.0424)
  dimension "d44" = 2.25
  dimension "d45" = 4.4
  dimension "d46" = 2.25
  dimension "d47" = 2.79
extrude "Extrusão4'" cut sketch "Esboço7" against normal blind 26 contours L0 L1 L2 L3 L7 L8 L9 L10 L11 bodies 2 in component "Component"
component "Component" placed x (1, 0, 0) y (0, 1, 0) z (0, 0, 1) at (0, 0, 0)
